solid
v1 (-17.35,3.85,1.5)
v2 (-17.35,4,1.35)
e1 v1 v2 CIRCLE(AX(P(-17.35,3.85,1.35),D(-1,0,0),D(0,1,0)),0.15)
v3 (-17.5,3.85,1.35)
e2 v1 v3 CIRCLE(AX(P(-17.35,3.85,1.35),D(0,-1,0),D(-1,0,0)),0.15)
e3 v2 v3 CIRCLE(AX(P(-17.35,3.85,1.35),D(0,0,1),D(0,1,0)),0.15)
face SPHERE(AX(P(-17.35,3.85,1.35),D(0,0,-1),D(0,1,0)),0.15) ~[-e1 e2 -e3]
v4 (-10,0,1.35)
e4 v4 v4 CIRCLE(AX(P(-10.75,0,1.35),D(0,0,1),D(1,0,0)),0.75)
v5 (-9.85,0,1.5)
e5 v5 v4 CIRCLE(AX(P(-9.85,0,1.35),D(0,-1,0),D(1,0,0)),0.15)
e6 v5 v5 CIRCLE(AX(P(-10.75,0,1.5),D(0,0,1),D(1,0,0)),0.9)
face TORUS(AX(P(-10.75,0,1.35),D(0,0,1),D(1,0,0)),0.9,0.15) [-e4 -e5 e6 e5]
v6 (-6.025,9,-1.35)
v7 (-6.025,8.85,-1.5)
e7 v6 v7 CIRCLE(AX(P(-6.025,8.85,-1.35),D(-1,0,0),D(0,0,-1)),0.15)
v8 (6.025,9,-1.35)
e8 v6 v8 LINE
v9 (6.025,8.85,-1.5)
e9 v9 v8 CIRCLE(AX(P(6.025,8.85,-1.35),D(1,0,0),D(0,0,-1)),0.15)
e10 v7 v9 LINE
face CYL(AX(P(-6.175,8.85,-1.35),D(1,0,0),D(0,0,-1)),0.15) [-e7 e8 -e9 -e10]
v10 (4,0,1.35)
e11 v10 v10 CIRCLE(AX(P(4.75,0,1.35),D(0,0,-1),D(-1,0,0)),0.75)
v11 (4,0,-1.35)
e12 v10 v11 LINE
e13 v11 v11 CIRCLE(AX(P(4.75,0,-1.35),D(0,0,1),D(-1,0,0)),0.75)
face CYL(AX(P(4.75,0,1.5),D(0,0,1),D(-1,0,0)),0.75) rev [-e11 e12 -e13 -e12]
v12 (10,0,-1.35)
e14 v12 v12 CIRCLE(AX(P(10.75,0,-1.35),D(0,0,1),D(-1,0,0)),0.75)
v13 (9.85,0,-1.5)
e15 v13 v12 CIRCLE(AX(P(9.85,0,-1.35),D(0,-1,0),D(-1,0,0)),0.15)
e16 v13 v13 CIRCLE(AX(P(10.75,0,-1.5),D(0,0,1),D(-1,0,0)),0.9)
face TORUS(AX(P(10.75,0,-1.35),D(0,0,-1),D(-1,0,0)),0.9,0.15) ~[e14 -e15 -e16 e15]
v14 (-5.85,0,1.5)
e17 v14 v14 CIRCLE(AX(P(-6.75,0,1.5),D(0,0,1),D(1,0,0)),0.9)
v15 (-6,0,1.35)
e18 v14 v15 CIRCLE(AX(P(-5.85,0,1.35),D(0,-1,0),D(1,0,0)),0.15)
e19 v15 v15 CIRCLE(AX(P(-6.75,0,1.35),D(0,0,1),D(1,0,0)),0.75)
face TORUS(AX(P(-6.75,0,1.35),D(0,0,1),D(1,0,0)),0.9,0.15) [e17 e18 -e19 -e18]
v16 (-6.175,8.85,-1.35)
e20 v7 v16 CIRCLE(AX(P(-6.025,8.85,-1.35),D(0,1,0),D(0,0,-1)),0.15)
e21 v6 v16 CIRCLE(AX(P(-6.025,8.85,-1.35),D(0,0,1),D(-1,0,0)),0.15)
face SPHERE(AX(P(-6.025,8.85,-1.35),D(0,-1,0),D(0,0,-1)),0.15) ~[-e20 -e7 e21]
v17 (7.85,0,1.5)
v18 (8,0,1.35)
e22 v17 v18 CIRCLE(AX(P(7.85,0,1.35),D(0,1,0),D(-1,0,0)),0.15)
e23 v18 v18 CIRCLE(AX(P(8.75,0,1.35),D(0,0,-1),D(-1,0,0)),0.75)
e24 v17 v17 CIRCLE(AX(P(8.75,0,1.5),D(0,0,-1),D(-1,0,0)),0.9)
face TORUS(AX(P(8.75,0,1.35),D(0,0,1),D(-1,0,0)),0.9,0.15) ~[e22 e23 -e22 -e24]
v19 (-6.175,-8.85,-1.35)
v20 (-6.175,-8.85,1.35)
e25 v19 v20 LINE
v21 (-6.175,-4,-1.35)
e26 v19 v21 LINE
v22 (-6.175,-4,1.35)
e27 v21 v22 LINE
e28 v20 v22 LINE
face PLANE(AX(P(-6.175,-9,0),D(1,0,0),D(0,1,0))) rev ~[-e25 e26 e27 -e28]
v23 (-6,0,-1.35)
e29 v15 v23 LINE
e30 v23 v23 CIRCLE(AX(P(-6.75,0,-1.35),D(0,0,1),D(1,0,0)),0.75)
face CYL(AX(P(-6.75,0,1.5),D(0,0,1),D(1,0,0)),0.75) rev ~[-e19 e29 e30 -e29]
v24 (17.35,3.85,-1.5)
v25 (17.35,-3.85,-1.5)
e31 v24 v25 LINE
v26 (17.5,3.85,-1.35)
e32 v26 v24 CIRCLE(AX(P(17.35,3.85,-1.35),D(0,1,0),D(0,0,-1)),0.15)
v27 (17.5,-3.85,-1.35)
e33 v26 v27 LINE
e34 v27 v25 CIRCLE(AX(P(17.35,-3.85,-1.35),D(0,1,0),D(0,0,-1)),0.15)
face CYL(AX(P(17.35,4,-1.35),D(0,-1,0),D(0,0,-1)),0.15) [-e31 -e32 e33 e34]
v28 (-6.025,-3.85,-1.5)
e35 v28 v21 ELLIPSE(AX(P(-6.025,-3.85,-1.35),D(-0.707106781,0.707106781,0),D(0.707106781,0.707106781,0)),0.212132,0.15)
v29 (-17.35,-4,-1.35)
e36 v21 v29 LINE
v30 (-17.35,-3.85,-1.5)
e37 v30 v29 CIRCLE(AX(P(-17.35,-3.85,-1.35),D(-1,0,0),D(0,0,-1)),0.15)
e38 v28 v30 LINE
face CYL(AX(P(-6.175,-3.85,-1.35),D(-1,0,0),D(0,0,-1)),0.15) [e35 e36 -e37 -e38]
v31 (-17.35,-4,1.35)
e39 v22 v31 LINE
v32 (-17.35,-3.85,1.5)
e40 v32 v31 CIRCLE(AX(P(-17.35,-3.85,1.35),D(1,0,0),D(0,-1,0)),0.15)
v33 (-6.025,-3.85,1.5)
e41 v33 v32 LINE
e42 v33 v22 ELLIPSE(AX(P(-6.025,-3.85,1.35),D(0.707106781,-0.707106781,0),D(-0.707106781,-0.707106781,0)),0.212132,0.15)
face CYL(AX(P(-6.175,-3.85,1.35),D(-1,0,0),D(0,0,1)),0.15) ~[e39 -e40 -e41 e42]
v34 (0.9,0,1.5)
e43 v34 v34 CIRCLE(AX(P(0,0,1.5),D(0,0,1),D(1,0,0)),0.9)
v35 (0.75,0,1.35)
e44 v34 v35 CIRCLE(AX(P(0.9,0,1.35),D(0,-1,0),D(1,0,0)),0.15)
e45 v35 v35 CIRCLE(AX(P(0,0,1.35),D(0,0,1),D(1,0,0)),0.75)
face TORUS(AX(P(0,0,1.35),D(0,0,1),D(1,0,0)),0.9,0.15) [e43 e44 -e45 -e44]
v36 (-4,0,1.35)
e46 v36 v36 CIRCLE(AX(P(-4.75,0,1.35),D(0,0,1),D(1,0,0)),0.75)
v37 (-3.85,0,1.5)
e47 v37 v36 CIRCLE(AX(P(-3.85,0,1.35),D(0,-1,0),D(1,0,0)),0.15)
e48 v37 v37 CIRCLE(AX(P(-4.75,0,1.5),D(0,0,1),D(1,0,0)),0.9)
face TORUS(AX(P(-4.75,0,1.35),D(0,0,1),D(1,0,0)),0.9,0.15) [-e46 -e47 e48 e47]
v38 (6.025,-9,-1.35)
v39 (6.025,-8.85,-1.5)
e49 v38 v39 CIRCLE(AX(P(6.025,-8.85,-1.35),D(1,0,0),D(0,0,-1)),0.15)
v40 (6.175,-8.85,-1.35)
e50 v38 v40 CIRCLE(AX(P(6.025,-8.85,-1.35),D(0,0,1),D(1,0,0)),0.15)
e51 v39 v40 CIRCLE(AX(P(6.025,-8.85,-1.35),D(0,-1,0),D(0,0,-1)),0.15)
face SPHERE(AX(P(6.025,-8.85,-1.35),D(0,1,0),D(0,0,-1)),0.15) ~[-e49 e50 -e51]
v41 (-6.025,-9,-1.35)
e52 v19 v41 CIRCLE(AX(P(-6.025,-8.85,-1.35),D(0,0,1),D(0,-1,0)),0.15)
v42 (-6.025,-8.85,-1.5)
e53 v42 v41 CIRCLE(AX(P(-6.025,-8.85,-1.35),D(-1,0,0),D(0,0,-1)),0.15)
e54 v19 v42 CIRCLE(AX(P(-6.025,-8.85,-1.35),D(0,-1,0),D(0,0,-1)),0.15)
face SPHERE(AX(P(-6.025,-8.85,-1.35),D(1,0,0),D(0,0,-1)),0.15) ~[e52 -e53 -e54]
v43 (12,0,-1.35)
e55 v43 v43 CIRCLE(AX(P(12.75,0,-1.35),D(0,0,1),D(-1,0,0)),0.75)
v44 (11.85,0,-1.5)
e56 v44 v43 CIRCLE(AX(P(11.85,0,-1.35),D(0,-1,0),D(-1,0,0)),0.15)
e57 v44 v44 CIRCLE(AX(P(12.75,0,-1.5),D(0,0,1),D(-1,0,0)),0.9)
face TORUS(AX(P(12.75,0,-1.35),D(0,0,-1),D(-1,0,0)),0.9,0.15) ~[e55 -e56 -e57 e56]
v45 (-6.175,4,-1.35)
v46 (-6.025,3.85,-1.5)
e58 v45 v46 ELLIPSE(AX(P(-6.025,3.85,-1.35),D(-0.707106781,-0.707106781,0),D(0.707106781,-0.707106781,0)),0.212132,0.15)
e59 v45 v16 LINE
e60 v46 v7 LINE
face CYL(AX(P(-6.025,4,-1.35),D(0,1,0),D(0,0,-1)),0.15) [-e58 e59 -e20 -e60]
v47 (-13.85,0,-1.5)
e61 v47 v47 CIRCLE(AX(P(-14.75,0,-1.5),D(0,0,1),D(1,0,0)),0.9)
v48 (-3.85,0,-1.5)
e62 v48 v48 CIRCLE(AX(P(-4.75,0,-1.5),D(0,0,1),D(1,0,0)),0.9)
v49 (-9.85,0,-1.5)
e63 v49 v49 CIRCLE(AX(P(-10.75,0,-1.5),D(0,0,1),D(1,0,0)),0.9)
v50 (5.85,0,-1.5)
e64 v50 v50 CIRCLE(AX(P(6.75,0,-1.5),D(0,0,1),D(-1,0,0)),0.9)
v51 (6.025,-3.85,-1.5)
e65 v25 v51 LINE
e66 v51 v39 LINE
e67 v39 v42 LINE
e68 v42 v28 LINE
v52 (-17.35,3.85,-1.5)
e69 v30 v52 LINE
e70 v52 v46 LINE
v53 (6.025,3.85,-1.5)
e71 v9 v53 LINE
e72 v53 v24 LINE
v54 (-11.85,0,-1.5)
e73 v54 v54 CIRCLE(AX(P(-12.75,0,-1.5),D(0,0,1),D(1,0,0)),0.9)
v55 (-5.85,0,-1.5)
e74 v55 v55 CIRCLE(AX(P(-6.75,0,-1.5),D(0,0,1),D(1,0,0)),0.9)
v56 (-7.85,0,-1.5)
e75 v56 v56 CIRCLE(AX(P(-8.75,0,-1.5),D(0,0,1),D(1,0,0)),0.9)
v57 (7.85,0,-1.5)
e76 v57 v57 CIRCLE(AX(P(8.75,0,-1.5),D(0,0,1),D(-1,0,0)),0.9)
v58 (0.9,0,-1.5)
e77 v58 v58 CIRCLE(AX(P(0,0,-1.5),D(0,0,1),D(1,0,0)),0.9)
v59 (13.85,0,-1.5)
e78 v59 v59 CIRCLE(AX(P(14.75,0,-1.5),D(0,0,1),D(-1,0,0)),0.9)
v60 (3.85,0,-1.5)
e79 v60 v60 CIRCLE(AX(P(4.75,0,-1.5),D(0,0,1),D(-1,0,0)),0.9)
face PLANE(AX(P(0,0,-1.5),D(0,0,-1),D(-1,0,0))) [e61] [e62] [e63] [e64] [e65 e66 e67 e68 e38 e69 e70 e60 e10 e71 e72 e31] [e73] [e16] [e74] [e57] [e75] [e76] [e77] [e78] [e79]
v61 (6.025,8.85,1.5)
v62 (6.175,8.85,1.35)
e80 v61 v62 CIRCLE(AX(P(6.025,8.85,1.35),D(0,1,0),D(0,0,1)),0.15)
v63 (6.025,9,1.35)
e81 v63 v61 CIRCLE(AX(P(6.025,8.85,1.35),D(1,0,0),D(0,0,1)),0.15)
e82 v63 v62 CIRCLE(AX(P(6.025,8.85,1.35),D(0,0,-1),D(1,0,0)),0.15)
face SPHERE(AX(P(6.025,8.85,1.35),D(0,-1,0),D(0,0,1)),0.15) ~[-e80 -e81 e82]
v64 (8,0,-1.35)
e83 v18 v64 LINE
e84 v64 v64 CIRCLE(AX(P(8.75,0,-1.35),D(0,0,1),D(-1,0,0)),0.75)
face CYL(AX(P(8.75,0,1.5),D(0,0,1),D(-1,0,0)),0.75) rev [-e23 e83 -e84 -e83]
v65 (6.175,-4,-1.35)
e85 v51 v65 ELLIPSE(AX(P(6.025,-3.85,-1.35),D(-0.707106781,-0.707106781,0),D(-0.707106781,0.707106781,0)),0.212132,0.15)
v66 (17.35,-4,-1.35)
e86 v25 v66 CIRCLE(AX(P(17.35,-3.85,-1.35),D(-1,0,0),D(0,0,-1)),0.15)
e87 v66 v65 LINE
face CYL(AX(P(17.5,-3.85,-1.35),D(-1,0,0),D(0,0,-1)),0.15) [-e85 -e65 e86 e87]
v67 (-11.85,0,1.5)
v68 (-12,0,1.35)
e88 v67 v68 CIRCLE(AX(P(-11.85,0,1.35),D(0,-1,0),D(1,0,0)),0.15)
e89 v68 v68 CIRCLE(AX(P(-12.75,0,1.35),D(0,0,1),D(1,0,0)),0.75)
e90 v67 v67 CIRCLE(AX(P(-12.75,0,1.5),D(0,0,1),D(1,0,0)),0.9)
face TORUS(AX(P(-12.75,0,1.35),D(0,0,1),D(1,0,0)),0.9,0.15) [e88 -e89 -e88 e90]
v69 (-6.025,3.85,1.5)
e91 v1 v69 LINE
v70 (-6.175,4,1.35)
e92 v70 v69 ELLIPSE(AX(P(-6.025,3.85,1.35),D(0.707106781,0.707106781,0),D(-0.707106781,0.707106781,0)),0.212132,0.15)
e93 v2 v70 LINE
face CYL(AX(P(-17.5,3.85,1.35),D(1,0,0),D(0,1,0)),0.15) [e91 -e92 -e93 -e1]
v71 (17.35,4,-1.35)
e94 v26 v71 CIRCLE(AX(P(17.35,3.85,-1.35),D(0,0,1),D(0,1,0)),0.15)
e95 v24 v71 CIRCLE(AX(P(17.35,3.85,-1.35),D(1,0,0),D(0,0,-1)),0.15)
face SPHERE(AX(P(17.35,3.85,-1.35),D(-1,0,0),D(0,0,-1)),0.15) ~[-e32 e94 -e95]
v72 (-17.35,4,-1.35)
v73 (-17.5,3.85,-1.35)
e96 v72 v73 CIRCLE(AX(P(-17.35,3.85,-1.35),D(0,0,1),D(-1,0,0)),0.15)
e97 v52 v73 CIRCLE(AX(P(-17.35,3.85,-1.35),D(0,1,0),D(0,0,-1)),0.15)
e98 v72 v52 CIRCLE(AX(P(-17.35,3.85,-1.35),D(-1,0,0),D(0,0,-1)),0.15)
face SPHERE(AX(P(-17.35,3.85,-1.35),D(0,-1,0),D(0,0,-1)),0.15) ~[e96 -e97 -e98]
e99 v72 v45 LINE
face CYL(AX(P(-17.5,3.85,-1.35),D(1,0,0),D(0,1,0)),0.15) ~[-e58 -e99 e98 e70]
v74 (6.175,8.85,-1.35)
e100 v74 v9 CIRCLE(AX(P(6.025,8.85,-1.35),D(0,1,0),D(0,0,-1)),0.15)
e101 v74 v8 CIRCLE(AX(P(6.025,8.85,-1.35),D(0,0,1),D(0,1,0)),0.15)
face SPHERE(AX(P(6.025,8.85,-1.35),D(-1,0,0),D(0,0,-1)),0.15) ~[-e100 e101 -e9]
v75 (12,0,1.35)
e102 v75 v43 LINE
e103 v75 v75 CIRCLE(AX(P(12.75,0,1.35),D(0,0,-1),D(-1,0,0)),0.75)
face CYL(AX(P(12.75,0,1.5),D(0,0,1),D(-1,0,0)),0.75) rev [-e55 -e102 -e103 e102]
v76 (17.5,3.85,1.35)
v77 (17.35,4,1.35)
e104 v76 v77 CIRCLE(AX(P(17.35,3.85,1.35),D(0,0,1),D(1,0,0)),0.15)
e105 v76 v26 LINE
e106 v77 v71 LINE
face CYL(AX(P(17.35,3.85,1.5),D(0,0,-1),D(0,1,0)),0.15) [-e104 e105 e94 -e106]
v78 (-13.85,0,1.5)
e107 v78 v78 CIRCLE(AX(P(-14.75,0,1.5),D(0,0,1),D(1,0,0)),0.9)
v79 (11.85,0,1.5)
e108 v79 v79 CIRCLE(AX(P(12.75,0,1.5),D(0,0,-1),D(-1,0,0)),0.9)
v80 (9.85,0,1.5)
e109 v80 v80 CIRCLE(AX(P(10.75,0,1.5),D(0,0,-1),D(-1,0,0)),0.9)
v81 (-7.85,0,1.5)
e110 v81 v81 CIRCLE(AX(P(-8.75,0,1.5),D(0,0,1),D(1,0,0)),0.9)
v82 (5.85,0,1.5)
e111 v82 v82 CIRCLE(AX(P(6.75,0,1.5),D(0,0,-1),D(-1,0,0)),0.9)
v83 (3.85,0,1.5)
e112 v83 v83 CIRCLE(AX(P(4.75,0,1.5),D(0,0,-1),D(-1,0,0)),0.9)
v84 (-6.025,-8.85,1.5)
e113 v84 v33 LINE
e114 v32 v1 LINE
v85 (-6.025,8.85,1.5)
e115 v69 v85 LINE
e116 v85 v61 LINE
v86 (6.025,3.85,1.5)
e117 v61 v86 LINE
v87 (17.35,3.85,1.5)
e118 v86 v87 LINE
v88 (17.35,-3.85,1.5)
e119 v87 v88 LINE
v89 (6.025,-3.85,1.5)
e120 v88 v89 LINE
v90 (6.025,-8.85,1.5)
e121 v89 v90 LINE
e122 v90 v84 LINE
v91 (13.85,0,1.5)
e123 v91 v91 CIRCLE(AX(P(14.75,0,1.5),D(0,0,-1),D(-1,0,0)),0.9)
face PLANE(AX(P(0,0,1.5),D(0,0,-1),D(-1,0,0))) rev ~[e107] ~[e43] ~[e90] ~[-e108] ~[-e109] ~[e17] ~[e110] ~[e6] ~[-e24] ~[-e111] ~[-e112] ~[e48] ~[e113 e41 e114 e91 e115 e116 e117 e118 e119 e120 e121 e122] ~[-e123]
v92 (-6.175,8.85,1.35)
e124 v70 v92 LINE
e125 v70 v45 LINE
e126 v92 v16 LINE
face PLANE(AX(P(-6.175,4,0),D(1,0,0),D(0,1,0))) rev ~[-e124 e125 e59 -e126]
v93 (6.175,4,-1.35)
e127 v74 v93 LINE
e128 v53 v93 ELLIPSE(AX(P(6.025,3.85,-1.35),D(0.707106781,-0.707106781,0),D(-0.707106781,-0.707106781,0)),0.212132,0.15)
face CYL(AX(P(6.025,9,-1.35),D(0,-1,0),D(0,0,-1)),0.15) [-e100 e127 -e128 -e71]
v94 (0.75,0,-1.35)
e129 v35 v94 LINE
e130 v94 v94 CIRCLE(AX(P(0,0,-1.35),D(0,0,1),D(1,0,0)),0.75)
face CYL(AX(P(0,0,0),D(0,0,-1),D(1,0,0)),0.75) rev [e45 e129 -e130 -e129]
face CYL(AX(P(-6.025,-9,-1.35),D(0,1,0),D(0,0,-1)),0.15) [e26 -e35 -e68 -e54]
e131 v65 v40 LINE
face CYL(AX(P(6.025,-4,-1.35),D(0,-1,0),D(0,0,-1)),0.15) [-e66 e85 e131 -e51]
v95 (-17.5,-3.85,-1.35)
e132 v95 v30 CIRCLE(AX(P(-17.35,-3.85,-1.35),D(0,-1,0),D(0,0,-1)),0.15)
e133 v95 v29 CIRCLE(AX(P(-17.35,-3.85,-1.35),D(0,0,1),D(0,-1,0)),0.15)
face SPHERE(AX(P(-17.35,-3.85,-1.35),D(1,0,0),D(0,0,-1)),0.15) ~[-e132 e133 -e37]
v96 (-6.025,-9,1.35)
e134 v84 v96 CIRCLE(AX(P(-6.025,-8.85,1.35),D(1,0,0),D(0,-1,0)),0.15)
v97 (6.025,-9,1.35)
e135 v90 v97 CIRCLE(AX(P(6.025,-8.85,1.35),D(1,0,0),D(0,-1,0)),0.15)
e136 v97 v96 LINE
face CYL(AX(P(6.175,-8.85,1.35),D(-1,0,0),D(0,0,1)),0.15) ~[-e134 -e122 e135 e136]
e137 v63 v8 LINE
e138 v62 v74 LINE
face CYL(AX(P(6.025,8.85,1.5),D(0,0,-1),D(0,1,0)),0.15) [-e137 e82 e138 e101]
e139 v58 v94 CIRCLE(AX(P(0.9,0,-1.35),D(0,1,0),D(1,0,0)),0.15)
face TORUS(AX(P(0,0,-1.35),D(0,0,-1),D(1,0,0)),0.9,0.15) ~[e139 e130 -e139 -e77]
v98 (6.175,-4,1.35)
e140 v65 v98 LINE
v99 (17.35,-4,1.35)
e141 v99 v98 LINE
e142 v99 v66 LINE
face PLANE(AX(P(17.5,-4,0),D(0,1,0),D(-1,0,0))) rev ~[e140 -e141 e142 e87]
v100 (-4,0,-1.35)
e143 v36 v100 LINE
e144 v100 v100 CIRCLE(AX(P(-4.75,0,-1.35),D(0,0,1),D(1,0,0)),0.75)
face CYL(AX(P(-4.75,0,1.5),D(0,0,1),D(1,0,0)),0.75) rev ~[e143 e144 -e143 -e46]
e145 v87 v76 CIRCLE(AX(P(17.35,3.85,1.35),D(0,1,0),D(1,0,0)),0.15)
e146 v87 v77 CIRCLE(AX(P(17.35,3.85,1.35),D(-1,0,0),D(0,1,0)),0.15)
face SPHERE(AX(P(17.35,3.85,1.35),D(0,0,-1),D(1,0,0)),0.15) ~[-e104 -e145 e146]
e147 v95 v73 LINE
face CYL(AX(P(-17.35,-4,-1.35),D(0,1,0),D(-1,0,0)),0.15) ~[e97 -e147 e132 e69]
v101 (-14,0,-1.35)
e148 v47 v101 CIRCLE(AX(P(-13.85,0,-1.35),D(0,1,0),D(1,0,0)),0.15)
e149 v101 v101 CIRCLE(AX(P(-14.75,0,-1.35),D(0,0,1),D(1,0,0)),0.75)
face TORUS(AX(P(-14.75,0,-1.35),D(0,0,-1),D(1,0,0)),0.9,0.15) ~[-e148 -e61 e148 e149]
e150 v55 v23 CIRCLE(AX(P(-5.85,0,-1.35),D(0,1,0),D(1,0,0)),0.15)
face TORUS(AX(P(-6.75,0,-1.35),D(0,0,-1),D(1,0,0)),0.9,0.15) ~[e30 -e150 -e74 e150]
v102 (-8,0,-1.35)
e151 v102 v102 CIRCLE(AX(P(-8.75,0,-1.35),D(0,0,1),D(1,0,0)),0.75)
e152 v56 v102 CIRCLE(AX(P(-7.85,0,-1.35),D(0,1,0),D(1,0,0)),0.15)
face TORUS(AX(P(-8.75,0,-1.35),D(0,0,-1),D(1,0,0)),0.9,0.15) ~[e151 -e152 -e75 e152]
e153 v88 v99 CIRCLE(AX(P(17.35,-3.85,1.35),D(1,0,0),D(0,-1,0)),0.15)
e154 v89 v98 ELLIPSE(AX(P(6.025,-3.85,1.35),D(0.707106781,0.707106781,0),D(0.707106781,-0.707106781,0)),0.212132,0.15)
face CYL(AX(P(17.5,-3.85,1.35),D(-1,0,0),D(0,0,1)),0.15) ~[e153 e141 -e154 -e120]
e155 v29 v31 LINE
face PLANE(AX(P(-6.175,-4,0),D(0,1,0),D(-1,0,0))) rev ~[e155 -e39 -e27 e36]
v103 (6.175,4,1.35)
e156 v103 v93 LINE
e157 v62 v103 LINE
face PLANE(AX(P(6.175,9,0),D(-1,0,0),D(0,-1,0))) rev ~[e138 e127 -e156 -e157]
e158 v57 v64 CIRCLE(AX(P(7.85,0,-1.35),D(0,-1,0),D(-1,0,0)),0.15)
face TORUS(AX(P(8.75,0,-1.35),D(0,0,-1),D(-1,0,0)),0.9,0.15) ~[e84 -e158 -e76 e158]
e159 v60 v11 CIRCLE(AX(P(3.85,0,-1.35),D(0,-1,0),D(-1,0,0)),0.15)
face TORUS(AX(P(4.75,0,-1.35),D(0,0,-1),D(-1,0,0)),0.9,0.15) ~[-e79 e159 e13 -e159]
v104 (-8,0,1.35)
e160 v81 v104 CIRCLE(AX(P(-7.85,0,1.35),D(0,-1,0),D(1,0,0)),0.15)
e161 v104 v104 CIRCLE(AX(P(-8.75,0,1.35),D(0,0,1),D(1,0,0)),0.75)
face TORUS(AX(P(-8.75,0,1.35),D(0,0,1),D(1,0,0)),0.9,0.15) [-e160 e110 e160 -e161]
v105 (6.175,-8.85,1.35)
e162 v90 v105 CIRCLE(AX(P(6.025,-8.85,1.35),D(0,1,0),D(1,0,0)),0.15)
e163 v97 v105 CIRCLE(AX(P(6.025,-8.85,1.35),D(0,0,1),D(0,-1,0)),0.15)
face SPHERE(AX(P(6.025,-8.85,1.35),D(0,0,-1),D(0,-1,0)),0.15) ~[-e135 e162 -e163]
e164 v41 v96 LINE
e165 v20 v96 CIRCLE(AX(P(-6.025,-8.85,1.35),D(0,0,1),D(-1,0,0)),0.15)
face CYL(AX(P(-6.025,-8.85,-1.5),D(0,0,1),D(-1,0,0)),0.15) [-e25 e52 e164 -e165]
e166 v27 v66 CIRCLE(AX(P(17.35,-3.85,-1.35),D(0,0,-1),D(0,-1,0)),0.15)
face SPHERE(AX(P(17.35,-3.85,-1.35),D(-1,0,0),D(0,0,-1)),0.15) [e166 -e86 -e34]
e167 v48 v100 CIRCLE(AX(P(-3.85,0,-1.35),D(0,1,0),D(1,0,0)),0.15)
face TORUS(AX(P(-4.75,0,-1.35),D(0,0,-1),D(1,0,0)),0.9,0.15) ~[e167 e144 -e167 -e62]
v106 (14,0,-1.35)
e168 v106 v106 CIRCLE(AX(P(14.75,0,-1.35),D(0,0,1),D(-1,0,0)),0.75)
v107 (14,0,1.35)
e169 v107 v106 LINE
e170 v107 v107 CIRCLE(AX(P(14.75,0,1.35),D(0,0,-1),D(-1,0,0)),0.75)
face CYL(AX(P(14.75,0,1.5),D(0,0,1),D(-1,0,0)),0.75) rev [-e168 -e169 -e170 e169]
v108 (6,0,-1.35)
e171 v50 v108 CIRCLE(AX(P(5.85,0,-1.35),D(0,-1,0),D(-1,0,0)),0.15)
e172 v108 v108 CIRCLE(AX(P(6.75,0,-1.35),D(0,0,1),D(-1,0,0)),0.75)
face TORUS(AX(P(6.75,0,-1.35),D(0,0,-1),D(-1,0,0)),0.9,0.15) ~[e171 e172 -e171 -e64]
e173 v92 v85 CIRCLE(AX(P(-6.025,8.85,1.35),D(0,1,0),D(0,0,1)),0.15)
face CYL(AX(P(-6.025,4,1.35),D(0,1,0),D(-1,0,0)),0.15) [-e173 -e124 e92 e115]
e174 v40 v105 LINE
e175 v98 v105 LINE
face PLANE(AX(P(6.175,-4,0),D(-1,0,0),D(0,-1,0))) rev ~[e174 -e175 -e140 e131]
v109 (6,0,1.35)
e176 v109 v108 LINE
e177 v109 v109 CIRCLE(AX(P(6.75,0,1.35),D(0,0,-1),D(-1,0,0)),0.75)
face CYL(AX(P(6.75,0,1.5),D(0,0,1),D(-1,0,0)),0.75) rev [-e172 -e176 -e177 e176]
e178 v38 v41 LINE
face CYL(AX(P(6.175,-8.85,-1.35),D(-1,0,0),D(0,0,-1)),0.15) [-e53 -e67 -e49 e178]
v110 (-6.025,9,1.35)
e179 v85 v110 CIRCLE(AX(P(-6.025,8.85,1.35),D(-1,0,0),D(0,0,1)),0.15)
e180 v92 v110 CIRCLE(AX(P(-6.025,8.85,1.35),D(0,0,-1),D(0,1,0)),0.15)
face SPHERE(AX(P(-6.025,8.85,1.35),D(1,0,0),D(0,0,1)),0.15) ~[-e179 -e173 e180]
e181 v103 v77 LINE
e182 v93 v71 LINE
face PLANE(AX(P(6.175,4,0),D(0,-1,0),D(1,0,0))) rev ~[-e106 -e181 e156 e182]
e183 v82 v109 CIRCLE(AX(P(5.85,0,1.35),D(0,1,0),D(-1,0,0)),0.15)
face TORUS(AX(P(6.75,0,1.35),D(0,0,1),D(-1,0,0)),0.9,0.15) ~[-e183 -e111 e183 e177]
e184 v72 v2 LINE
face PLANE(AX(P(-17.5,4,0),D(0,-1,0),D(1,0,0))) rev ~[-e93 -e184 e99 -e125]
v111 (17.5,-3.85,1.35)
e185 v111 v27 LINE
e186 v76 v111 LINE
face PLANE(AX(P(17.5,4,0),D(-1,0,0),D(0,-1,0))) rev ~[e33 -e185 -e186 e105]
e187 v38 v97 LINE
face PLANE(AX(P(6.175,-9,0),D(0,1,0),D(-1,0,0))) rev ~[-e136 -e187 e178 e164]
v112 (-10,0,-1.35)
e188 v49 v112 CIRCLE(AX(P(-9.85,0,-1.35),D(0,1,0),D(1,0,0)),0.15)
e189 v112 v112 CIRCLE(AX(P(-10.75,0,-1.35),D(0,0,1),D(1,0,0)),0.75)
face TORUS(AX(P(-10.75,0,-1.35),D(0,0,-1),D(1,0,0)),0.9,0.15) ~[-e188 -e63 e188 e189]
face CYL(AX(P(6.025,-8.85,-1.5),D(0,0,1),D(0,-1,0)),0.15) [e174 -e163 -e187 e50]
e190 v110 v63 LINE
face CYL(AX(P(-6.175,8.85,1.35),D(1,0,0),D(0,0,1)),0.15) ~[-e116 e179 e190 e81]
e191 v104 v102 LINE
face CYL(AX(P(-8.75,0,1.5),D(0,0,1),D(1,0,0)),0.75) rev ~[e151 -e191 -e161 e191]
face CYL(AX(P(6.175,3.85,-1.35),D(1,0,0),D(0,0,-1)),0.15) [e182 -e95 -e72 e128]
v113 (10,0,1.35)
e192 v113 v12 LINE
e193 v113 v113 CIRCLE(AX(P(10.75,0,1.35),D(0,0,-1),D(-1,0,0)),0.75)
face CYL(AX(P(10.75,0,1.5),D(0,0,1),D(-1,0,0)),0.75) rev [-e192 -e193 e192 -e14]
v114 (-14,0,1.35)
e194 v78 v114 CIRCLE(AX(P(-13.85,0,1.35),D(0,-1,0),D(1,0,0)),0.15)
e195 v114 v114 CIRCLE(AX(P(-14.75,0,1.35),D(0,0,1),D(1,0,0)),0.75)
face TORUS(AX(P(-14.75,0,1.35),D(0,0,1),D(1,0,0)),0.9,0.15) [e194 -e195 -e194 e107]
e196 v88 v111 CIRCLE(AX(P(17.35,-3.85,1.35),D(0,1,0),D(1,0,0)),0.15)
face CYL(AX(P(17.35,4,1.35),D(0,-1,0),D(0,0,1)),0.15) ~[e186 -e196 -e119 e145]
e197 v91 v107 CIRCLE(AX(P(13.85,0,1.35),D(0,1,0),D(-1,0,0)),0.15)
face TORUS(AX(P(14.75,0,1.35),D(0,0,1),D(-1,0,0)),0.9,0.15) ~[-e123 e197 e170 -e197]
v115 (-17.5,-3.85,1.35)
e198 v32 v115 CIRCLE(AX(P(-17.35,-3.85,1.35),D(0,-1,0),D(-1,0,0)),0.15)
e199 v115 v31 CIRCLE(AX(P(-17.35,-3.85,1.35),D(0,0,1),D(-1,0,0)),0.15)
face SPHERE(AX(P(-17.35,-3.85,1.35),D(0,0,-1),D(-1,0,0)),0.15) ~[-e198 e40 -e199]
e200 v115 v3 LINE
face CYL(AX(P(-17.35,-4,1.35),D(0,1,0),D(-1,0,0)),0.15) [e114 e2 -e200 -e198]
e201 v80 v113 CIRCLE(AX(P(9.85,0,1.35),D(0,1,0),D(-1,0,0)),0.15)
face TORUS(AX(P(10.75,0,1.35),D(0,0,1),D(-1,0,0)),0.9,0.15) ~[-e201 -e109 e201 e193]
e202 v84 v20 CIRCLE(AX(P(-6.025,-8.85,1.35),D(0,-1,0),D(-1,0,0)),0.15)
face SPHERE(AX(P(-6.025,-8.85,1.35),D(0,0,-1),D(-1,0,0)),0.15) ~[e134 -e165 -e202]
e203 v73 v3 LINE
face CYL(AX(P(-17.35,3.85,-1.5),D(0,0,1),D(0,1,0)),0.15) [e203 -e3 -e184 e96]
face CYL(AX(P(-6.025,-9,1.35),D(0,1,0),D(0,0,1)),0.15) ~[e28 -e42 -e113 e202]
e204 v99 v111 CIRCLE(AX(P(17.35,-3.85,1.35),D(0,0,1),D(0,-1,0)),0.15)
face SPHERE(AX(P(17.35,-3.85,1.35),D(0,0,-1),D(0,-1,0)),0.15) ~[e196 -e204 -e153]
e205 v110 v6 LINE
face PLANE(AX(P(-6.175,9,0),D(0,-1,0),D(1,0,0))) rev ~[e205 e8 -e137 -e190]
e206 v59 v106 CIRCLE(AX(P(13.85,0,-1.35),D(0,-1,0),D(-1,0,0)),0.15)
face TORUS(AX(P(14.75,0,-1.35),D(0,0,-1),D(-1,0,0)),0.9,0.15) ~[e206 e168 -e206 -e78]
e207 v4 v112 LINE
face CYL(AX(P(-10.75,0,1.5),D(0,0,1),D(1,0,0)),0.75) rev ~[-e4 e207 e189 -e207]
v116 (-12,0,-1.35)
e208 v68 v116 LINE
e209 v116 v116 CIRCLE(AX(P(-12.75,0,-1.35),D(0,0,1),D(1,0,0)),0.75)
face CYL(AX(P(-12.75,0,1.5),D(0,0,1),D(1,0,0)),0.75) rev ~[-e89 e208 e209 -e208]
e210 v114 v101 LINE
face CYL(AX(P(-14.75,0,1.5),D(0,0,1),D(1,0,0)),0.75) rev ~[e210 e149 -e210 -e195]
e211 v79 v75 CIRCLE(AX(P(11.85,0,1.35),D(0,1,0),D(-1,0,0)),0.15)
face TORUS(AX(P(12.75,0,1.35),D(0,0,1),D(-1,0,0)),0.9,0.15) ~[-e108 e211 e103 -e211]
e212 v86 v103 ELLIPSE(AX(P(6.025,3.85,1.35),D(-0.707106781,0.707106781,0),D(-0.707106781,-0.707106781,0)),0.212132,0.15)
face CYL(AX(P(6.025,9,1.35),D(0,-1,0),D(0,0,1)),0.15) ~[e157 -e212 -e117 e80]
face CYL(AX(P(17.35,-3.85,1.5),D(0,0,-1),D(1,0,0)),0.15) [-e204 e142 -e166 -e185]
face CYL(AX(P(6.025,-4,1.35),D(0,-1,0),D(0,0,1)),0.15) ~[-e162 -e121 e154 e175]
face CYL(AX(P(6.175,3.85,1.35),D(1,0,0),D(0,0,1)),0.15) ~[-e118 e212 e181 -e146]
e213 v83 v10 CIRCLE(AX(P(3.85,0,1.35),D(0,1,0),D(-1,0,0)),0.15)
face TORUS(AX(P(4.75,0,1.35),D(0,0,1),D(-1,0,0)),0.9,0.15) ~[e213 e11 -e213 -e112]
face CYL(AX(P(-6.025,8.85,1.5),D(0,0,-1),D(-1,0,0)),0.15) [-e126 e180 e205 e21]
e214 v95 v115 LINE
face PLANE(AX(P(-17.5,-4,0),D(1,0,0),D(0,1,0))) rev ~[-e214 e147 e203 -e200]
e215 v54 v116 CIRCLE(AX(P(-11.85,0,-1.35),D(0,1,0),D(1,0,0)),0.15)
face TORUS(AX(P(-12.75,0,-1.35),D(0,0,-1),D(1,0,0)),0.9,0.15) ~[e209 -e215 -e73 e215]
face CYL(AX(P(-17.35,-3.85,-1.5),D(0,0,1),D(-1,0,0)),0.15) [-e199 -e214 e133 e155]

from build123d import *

# Parameters (mm, degrees)
SKETCH1_R           = 0.75
BOSS_EXTRUDE1_DEPTH = 1.5
SKETCH3_R           = 0.75
CUT_EXTRUDE1_DEPTH  = 4
FILLET1_R           = 0.15


with BuildPart() as part:
    # Sketch1 → Boss-Extrude1 (new body, symmetric)
    with BuildSketch(Plane.XY):
        Polygon((-17.5, 4), (-6.175, 4), (-6.175, 9), (6.175, 9), (6.175, 4), (17.5, 4), (17.5, -4), (6.175, -4), (6.175, -9), (-6.175, -9), (-6.175, -4), (-17.5, -4), align=None)
        Circle(SKETCH1_R, mode=Mode.SUBTRACT)
    extrude(amount=BOSS_EXTRUDE1_DEPTH, both=True)

    # Sketch3 → Cut-Extrude1 (cut, through all)
    with BuildSketch(Plane.XY.offset(1.5)):
        with Locations((-14.75, 0)):
            Circle(SKETCH3_R)
        with Locations((-12.75, 0)):
            Circle(SKETCH3_R)
        with Locations((-10.75, 0)):
            Circle(SKETCH3_R)
        with Locations((-8.75, 0)):
            Circle(SKETCH3_R)
        with Locations((-6.75, 0)):
            Circle(SKETCH3_R)
        with Locations((-4.75, 0)):
            Circle(SKETCH3_R)
    cut_extrude1 = extrude(amount=-CUT_EXTRUDE1_DEPTH, mode=Mode.SUBTRACT)

    # Mirror1: Cut-Extrude1 across plane
    add(cut_extrude1.mirror(Plane(origin=(0, 0, 0), x_dir=(0, 0, 1), z_dir=(1, 0, 0))), mode=Mode.SUBTRACT)

    # Fillet1
    fillet1_edges = [part.edges().sort_by_distance(p)[0] for p in [
        (11.8375, -4, -1.5),
        (6.175, -6.5, -1.5),
        (6.175, 6.5, 1.5),
        (0, -9, -1.5),
        (-6.175, -6.5, -1.5),
        (-11.8375, -4, -1.5),
        (-17.5, 0, -1.5),
        (-11.8375, 4, -1.5),
        (-6.175, 6.5, -1.5),
        (0, 9, -1.5),
        (6.175, 6.5, -1.5),
        (11.8375, 4, -1.5),
        (17.5, 0, -1.5),
        (0, 9, 1.5),
        (17.5, -4, 0),
        (6.175, -9, 0),
        (-6.175, 6.5, 1.5),
        (-6.175, -9, 0),
        (-17.5, -4, 0),
        (-17.5, 4, 0),
        (-6.175, 9, 0),
        (6.175, 9, 0),
        (17.5, 4, 0),
        (-11.8375, 4, 1.5),
        (-17.5, 0, 1.5),
        (-0.75, 0, -1.5),
        (-0.75, 0, 1.5),
        (-11.8375, -4, 1.5),
        (-6.175, -6.5, 1.5),
        (0, -9, 1.5),
        (6.175, -6.5, 1.5),
        (-15.5, 0, -1.5),
        (-15.5, 0, 1.5),
        (11.8375, -4, 1.5),
        (-13.5, 0, -1.5),
        (-13.5, 0, 1.5),
        (17.5, 0, 1.5),
        (-11.5, 0, -1.5),
        (-11.5, 0, 1.5),
        (-9.5, 0, -1.5),
        (-9.5, 0, 1.5),
        (-7.5, 0, -1.5),
        (-7.5, 0, 1.5),
        (-5.5, 0, -1.5),
        (-5.5, 0, 1.5),
        (15.5, 0, 1.5),
        (15.5, 0, -1.5),
        (13.5, 0, 1.5),
        (13.5, 0, -1.5),
        (11.5, 0, 1.5),
        (11.5, 0, -1.5),
        (9.5, 0, 1.5),
        (9.5, 0, -1.5),
        (7.5, 0, 1.5),
        (7.5, 0, -1.5),
        (5.5, 0, 1.5),
        (5.5, 0, -1.5),
        (11.8375, 4, 1.5),
    ]]
    fillet(fillet1_edges, radius=FILLET1_R)


solid = part.part
